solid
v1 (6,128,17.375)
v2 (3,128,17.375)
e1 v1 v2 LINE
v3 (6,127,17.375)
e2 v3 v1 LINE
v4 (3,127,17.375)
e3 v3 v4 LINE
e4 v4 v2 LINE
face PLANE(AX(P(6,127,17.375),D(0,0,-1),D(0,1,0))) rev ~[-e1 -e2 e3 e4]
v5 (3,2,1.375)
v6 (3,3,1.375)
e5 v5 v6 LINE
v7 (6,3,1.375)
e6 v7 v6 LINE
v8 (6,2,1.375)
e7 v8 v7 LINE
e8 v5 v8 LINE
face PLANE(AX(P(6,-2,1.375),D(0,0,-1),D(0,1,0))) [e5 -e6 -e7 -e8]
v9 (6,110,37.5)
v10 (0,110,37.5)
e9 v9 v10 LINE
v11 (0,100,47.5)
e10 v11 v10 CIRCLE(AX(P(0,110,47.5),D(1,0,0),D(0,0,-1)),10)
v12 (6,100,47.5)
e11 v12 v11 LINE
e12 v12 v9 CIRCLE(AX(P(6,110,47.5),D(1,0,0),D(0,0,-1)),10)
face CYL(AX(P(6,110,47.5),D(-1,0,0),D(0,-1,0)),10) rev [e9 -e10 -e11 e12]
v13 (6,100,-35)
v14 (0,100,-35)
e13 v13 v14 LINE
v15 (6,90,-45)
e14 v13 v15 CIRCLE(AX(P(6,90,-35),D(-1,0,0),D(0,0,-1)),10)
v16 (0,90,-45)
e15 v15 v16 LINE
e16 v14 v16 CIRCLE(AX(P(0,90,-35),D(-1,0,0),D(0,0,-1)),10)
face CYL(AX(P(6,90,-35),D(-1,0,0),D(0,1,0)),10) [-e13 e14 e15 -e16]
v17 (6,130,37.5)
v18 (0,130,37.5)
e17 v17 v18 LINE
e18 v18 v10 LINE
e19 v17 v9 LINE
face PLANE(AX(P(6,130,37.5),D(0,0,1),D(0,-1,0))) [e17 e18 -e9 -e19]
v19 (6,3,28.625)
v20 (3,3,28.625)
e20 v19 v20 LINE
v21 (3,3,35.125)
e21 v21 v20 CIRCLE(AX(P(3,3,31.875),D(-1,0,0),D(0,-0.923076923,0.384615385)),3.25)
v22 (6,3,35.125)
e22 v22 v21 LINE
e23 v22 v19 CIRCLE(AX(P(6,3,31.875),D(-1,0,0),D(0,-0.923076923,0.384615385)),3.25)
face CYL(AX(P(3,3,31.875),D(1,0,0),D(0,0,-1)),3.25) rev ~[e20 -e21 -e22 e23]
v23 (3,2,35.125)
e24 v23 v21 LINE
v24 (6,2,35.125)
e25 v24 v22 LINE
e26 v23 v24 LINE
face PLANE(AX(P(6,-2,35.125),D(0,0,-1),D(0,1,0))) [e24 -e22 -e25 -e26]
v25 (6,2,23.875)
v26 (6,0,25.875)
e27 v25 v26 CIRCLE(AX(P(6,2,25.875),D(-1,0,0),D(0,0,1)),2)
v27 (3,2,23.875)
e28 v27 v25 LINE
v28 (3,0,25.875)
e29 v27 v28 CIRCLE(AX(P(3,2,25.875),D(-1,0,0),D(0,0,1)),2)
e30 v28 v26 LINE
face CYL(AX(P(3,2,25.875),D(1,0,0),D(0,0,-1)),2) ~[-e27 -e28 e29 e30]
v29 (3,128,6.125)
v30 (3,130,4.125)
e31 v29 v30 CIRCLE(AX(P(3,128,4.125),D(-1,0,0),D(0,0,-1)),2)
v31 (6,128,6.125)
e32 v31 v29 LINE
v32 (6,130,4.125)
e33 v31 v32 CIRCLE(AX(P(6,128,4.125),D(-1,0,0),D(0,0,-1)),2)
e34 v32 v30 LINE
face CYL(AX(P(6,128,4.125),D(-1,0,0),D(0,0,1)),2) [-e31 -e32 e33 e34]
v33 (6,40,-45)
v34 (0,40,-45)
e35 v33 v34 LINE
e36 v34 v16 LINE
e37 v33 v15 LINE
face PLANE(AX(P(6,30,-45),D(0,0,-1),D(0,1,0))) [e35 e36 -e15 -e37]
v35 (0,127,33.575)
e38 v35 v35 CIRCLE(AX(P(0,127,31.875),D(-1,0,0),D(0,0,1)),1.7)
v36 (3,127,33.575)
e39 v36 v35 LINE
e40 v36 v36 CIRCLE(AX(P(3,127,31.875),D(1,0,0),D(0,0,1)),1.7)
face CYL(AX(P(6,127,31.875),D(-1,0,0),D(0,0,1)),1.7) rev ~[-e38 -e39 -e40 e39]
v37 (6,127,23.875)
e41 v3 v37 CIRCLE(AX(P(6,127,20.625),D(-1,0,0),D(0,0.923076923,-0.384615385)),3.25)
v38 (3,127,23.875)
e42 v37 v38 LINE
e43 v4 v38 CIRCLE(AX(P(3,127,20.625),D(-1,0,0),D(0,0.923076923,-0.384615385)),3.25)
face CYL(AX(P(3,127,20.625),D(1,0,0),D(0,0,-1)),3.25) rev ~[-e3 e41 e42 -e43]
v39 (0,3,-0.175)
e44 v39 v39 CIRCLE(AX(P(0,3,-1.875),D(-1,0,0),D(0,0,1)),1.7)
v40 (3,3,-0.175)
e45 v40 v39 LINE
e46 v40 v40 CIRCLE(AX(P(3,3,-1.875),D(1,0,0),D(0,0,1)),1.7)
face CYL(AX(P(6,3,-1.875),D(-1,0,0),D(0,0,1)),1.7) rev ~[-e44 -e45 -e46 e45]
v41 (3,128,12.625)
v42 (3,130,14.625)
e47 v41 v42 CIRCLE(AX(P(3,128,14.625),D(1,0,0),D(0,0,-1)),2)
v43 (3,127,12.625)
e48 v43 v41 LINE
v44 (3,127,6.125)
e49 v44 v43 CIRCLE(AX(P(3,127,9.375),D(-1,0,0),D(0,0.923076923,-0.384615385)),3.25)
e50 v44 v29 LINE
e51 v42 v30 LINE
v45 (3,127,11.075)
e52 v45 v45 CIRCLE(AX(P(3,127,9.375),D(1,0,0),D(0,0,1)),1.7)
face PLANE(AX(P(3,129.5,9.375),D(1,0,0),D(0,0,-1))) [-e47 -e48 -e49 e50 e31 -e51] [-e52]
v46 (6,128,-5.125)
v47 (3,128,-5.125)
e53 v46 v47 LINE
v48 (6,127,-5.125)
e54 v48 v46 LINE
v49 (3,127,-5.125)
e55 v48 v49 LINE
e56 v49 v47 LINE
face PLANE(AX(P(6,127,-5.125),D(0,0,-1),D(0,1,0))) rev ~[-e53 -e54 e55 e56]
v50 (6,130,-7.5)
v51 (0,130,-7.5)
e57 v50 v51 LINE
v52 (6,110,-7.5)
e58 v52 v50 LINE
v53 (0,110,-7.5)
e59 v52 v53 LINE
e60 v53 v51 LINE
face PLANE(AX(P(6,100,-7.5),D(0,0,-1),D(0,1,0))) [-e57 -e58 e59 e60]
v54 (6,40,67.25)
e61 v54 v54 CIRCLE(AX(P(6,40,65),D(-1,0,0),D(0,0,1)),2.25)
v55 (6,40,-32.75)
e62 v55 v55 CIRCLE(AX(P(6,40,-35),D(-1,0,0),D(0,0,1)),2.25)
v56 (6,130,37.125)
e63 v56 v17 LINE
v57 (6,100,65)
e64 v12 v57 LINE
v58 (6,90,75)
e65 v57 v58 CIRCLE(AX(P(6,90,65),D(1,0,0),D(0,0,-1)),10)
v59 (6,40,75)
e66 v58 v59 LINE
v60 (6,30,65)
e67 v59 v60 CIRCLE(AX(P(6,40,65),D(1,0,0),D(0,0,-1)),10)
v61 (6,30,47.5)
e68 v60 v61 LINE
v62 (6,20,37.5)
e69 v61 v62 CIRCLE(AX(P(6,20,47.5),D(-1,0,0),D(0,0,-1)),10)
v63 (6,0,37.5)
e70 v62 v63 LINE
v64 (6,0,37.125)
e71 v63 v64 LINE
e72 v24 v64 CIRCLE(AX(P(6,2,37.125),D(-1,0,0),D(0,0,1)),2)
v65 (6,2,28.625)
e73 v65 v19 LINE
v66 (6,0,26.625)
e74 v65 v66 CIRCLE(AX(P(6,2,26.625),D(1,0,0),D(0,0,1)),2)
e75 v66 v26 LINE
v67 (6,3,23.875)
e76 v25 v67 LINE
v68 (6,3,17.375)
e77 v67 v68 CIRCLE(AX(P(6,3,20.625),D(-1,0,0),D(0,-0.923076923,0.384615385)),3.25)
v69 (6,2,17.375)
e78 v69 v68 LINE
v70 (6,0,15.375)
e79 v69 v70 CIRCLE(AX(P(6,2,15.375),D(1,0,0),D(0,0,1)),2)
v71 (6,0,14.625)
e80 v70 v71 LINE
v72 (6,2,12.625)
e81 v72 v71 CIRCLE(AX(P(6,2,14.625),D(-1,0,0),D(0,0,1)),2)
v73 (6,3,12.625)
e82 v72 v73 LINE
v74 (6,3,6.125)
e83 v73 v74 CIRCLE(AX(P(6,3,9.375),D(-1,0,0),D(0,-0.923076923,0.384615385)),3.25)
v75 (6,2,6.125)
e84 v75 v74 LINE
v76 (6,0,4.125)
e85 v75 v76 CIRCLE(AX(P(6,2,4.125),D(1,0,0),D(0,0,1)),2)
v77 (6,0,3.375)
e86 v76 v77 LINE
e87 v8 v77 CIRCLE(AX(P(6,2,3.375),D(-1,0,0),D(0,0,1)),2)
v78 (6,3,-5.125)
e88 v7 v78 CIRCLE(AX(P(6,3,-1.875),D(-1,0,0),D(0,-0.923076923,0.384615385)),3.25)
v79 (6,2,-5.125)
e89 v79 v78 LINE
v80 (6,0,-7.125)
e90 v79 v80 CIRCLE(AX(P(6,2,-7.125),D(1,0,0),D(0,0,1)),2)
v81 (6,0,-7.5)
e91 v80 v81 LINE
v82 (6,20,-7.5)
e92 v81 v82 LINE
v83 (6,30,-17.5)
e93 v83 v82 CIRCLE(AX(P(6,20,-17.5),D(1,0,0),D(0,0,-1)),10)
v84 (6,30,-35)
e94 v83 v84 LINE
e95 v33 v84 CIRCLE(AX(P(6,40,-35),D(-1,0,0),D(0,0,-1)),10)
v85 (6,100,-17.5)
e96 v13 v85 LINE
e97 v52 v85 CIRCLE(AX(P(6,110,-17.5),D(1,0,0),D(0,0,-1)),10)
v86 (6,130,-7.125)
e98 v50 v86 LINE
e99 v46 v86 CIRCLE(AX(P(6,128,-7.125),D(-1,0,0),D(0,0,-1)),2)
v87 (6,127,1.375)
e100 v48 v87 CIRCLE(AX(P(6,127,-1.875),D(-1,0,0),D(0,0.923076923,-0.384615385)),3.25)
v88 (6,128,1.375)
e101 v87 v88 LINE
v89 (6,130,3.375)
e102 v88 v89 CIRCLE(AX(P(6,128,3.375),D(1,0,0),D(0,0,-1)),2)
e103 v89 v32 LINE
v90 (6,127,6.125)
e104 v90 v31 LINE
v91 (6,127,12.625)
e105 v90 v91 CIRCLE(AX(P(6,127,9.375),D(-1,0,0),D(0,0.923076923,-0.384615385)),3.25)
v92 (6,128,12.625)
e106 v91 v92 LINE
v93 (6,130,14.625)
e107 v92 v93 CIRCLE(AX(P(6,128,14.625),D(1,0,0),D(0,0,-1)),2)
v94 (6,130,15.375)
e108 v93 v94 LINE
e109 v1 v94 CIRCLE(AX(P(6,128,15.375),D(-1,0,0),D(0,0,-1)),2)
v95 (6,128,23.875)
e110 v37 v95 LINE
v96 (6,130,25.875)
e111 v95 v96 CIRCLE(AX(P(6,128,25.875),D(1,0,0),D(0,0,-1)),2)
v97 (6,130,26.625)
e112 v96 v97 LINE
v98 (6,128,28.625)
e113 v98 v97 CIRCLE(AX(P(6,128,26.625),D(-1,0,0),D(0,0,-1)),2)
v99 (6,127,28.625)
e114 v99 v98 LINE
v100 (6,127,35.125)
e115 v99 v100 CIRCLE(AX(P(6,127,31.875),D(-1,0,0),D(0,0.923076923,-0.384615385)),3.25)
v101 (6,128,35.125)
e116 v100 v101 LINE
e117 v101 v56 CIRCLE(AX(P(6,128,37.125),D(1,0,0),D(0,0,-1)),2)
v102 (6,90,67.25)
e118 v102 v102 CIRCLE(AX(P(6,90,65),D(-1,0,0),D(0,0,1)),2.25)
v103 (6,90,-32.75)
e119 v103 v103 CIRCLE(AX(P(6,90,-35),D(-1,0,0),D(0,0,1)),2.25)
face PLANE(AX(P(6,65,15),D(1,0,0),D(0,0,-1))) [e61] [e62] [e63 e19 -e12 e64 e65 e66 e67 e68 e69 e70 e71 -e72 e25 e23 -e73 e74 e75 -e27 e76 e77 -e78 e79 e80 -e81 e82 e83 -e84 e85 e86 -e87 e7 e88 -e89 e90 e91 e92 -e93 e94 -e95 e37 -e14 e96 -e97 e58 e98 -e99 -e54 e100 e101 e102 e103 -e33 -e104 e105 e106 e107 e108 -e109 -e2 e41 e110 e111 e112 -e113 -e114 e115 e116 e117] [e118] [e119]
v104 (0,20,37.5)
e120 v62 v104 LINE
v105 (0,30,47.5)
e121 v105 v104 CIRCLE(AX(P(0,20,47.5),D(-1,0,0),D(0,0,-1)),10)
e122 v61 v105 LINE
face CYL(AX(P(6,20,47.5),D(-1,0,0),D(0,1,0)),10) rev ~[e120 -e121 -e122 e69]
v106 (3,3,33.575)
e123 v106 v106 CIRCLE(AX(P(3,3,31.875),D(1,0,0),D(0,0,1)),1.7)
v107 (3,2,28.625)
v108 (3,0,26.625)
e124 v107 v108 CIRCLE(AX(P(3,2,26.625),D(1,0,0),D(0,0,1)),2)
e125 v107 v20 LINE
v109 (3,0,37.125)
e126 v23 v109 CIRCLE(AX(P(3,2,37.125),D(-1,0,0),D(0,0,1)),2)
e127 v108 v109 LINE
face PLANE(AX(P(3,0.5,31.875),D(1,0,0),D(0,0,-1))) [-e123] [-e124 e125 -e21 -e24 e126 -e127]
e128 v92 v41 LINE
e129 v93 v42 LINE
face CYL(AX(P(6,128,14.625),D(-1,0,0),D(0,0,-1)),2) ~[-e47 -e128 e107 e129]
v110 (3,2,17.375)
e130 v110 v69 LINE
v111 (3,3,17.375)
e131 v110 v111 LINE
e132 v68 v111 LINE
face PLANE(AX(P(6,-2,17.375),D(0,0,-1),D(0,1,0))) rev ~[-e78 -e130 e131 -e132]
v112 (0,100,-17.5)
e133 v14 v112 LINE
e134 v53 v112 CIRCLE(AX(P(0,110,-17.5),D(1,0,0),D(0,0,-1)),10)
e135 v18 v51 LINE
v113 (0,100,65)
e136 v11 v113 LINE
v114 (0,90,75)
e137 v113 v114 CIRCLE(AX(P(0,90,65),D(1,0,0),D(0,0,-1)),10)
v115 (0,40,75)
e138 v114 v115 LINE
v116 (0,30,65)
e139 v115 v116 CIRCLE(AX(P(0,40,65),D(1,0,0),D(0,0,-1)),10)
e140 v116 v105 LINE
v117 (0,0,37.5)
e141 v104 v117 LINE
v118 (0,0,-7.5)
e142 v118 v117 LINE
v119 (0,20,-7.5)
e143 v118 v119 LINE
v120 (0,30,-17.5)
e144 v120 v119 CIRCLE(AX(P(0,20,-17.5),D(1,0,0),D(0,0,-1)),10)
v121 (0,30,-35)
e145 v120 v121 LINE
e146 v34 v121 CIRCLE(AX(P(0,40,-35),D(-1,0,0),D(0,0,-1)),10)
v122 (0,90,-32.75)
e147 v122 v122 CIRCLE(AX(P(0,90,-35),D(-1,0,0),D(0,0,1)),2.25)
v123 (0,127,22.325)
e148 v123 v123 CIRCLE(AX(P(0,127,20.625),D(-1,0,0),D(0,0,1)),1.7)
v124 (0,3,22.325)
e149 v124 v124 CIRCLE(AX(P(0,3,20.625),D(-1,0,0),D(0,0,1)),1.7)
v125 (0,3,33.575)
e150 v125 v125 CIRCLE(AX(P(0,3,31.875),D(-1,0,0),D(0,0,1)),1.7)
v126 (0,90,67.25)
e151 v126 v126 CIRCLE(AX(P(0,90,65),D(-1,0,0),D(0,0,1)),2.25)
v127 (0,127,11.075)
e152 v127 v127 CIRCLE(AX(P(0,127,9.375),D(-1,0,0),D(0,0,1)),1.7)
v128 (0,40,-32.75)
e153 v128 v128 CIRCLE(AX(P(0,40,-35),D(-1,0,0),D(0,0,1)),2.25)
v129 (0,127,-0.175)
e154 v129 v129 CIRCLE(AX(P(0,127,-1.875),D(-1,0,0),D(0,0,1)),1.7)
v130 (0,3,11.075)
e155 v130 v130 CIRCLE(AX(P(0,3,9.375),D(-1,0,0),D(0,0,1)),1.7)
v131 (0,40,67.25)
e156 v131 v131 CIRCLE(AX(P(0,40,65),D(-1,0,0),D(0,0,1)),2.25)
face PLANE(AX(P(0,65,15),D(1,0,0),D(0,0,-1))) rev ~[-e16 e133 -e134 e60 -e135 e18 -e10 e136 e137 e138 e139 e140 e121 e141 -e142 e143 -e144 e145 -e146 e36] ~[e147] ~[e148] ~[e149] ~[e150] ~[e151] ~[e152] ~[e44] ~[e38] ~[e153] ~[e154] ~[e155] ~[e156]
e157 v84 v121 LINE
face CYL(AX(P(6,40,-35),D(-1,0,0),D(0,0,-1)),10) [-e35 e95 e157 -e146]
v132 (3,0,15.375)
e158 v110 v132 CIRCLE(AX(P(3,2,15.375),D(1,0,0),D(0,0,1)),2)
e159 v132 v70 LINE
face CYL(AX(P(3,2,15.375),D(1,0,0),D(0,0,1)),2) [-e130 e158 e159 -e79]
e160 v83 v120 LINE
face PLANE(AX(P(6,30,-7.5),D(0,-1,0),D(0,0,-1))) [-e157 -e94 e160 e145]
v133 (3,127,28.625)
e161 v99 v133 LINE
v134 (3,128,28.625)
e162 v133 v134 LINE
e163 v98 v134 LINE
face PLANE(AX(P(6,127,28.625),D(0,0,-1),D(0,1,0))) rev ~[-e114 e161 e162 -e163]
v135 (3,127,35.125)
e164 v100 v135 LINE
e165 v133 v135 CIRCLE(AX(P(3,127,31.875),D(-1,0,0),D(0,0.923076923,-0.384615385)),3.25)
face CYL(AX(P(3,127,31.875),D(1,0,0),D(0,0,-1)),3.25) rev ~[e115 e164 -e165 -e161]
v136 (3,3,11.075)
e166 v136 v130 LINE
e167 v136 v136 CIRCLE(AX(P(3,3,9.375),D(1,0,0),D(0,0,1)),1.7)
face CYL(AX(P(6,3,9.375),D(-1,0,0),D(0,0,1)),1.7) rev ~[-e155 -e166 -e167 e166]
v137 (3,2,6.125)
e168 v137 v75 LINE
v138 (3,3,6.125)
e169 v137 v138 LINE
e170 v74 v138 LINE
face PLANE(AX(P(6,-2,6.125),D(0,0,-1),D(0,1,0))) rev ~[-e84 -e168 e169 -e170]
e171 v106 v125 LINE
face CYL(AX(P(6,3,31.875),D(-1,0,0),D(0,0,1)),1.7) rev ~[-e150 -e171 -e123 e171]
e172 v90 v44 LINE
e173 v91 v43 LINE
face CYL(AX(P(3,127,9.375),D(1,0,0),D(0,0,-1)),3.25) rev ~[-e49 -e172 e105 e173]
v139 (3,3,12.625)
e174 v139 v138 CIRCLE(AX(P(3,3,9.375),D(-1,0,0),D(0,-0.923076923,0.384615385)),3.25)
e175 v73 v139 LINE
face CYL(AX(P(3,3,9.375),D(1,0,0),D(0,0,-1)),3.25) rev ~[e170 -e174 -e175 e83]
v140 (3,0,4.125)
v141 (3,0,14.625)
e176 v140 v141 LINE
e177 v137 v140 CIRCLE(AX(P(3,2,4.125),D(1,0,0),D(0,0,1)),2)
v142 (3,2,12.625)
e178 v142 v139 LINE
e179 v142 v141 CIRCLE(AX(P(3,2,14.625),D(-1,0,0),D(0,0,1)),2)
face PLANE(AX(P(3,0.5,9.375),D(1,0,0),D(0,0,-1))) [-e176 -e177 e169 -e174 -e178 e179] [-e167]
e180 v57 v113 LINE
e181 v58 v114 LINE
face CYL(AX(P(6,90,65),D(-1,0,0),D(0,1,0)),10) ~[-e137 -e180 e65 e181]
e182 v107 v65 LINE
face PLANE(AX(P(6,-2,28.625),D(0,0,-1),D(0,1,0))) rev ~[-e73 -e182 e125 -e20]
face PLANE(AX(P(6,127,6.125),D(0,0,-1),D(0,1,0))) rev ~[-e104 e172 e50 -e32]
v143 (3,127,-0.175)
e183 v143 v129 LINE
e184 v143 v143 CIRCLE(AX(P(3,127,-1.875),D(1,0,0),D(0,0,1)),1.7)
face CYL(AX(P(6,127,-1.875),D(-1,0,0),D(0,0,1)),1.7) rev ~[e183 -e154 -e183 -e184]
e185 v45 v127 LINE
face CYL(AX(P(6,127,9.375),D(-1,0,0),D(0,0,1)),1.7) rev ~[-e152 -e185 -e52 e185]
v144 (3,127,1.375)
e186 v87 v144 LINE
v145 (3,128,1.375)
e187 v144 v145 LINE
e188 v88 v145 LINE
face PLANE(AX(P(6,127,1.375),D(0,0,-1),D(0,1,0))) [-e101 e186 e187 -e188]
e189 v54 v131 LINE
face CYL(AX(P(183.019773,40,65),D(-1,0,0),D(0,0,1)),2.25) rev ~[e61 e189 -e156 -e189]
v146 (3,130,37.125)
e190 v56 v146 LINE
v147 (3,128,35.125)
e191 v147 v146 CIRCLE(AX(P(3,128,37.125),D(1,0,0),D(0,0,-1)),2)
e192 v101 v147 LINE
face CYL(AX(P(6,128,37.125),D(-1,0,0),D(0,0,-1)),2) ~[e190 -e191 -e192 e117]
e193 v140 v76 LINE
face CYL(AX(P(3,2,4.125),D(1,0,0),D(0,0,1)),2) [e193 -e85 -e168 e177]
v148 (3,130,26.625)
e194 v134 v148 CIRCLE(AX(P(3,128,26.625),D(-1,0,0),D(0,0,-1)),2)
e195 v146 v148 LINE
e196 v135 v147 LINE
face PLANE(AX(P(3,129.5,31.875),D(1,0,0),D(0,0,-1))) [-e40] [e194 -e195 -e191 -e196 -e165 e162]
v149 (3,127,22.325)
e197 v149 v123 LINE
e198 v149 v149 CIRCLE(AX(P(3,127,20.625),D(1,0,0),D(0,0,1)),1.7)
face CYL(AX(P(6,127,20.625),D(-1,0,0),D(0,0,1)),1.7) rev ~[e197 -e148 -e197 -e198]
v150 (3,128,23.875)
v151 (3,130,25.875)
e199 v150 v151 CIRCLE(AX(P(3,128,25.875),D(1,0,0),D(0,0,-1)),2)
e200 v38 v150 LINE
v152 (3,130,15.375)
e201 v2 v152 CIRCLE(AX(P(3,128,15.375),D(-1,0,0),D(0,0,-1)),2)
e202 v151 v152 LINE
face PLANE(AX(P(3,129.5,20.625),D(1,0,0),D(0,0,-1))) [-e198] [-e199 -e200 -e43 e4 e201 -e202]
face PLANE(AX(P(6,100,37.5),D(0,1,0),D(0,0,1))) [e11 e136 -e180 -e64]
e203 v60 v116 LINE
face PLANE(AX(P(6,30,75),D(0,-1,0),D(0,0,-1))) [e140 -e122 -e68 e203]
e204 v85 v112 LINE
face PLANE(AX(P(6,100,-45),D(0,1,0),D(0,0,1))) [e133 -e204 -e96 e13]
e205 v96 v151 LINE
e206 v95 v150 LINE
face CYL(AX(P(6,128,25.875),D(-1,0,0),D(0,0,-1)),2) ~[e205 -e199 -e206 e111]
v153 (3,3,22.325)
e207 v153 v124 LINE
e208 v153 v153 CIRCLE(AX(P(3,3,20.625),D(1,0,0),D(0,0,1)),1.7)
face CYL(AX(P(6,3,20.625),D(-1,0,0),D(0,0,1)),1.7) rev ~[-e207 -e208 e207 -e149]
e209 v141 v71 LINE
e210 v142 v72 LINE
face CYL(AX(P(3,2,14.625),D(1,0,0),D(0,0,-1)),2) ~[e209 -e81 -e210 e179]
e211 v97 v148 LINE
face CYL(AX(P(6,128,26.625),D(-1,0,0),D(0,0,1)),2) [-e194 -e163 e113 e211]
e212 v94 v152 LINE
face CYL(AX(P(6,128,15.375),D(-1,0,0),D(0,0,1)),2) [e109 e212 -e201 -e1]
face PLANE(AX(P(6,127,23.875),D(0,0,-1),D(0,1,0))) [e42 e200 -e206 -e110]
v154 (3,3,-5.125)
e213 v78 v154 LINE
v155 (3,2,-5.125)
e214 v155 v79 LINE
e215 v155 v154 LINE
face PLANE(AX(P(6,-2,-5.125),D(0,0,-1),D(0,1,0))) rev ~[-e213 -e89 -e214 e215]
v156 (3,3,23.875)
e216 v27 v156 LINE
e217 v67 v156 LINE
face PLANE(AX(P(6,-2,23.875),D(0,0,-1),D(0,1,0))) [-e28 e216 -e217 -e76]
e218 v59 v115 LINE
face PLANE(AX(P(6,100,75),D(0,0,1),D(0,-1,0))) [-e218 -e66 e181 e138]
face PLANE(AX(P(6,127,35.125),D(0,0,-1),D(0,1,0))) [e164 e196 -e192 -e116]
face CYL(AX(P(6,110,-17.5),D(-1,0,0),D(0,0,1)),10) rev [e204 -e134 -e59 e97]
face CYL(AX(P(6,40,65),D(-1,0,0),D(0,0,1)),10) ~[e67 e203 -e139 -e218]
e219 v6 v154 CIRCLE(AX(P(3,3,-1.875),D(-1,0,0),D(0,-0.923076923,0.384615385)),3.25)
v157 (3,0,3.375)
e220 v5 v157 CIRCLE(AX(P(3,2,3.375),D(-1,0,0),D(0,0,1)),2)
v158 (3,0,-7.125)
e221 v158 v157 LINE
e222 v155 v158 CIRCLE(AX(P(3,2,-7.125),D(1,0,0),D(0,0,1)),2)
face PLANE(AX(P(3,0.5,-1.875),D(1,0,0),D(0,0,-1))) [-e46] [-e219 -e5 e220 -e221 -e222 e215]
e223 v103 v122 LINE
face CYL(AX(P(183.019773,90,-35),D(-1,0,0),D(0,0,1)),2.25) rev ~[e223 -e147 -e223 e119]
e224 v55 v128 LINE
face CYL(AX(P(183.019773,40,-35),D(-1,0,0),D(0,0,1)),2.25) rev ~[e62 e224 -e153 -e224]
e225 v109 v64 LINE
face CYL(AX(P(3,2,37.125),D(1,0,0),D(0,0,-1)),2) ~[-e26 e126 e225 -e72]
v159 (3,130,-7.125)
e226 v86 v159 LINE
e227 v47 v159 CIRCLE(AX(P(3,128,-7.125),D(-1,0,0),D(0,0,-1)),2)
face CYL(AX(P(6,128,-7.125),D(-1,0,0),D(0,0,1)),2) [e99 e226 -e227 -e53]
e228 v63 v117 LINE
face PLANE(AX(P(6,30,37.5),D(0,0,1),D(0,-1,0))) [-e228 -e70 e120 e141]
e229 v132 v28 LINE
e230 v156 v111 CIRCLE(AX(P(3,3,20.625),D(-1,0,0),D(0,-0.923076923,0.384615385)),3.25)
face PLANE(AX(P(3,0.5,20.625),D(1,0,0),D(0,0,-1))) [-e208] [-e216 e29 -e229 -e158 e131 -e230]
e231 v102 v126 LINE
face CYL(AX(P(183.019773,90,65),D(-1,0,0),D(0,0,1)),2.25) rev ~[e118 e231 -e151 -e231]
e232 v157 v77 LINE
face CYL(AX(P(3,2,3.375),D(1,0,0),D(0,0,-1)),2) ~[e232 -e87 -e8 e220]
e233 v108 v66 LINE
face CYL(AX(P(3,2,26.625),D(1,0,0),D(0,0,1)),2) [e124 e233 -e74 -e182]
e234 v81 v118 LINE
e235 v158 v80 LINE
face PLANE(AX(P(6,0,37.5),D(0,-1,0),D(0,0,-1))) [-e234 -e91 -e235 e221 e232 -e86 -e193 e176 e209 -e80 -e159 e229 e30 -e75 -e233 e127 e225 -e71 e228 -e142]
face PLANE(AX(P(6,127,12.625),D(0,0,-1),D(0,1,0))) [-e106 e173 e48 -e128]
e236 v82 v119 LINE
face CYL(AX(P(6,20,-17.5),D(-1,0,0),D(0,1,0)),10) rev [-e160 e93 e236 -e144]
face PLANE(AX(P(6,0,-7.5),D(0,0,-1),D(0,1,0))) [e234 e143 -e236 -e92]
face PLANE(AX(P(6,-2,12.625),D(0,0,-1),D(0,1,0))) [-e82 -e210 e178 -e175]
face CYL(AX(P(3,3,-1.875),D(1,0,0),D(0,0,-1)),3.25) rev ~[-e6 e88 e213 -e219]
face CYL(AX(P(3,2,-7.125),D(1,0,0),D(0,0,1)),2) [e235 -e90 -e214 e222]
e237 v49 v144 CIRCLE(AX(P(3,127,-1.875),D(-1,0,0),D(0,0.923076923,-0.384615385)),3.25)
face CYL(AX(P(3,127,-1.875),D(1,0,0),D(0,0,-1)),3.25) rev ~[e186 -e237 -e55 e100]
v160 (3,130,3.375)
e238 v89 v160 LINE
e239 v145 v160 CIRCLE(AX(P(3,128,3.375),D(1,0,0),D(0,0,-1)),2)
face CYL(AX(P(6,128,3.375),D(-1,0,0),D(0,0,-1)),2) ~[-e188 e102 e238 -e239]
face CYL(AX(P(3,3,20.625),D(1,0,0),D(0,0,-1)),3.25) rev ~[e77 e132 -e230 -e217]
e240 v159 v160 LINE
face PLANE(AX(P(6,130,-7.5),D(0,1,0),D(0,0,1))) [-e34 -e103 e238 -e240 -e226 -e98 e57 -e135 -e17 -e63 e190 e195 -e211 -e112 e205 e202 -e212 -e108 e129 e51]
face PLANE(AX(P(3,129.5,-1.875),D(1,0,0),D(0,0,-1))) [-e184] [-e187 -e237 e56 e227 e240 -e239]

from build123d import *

# Parameters (mm, degrees)
SKETCH_1_W                  = 6
SKETCH_1_H                  = 30
EXTRUDE_1_DEPTH             = 130
EXTRUDE_3_DEPTH             = 6
HOLE_WIZARD_M31_D           = 3.4
HOLE_WIZARD_M31_CBORE_D     = 6.5
HOLE_WIZARD_M31_CBORE_DEPTH = 3
HOLE_WIZARD_M41_D           = 4.5
FILLET_1_R                  = 10
SKETCH_17_W                 = 6.5
SKETCH_17_H                 = 5
CUT_EXTRUDE_1_DEPTH         = 3
FILLET_2_R                  = 2


with BuildPart() as part:
    # Эскиз1 → Бобышка-Вытянуть1 (new body)
    with BuildSketch(Plane(origin=(0, 0, 0), x_dir=(1, 0, 0), z_dir=(0, 1, 0))):
        with Locations((3, -15)):
            Rectangle(SKETCH_1_W, SKETCH_1_H)
    extrude(amount=EXTRUDE_1_DEPTH)

    # Эскиз11 → Бобышка-Вытянуть3 (add)
    with BuildSketch(Plane(origin=(6, 0, 0), x_dir=(0, 0, -1), z_dir=(1, 0, 0))):
        Polygon((-37.5, 124), (-37.5, 100), (-75, 100), (-75, 30), (-37.5, 30), (-37.5, 6), (-37.5, 0), (7.5, 0), (7.5, 6), (7.5, 30), (45, 30), (45, 100), (7.5, 100), (7.5, 124), (7.5, 130), (-37.5, 130), align=None)
    extrude(amount=-EXTRUDE_3_DEPTH)

    # Цековка для винта с внутренним шестигранником M31 (through all)
    with Locations(Plane(origin=(6, 0, 0), x_dir=(0, 0, -1), z_dir=(1, 0, 0))):
        with Locations((-31.875, 127), (-20.625, 127), (-9.375, 127), (1.875, 127), (-31.875, 3), (-20.625, 3), (-9.375, 3), (1.875, 3)):
            CounterBoreHole(HOLE_WIZARD_M31_D / 2, HOLE_WIZARD_M31_CBORE_D / 2, HOLE_WIZARD_M31_CBORE_DEPTH)

    # Отверстие с зазором M41 (through all)
    with Locations(Plane(origin=(6, 0, 0), x_dir=(0, 0, -1), z_dir=(1, 0, 0))):
        with Locations((-65, 90), (-65, 40), (35, 40), (35, 90)):
            Hole(HOLE_WIZARD_M41_D / 2)

    # Скругление1
    fillet_1_edges = [part.edges().sort_by_distance(p)[0] for p in [
        (3, 100, -7.5),
        (3, 100, -45),
        (3, 30, -45),
        (3, 30, -7.5),
        (3, 30, 37.5),
        (3, 30, 75),
        (3, 100, 75),
        (3, 100, 37.5),
    ]]
    fillet(fillet_1_edges, radius=FILLET_1_R)

    # Эскиз17 → Вырез-Вытянуть1 (cut)
    with BuildSketch(Plane(origin=(6, 0, 0), x_dir=(0, 0, -1), z_dir=(1, 0, 0))):
        with Locations((-9.375, 129.5)):
            Rectangle(SKETCH_17_W, SKETCH_17_H)
        with Locations((1.875, 129.5)):
            Rectangle(SKETCH_17_W, SKETCH_17_H)
        with Locations((-20.625, 129.5)):
            Rectangle(SKETCH_17_W, SKETCH_17_H)
        with Locations((-31.875, 129.5)):
            Rectangle(SKETCH_17_W, SKETCH_17_H)
        with Locations((-31.875, 0.5)):
            Rectangle(SKETCH_17_W, SKETCH_17_H)
        with Locations((-20.625, 0.5)):
            Rectangle(SKETCH_17_W, SKETCH_17_H)
        with Locations((-9.375, 0.5)):
            Rectangle(SKETCH_17_W, SKETCH_17_H)
        with Locations((1.875, 0.5)):
            Rectangle(SKETCH_17_W, SKETCH_17_H)
    extrude(amount=-CUT_EXTRUDE_1_DEPTH, mode=Mode.SUBTRACT)

    # Скругление2
    fillet_2_edges = [part.edges().sort_by_distance(p)[0] for p in [
        (4.5, 130, -5.125),
        (4.5, 130, 1.375),
        (4.5, 130, 6.125),
        (4.5, 130, 12.625),
        (4.5, 130, 17.375),
        (4.5, 130, 23.875),
        (4.5, 130, 28.625),
        (4.5, 130, 35.125),
        (4.5, 0, 35.125),
        (4.5, 0, 28.625),
        (4.5, 0, 23.875),
        (4.5, 0, 17.375),
        (4.5, 0, 12.625),
        (4.5, 0, 6.125),
        (4.5, 0, 1.375),
        (4.5, 0, -5.125),
    ]]
    fillet(fillet_2_edges, radius=FILLET_2_R)


solid = part.part
